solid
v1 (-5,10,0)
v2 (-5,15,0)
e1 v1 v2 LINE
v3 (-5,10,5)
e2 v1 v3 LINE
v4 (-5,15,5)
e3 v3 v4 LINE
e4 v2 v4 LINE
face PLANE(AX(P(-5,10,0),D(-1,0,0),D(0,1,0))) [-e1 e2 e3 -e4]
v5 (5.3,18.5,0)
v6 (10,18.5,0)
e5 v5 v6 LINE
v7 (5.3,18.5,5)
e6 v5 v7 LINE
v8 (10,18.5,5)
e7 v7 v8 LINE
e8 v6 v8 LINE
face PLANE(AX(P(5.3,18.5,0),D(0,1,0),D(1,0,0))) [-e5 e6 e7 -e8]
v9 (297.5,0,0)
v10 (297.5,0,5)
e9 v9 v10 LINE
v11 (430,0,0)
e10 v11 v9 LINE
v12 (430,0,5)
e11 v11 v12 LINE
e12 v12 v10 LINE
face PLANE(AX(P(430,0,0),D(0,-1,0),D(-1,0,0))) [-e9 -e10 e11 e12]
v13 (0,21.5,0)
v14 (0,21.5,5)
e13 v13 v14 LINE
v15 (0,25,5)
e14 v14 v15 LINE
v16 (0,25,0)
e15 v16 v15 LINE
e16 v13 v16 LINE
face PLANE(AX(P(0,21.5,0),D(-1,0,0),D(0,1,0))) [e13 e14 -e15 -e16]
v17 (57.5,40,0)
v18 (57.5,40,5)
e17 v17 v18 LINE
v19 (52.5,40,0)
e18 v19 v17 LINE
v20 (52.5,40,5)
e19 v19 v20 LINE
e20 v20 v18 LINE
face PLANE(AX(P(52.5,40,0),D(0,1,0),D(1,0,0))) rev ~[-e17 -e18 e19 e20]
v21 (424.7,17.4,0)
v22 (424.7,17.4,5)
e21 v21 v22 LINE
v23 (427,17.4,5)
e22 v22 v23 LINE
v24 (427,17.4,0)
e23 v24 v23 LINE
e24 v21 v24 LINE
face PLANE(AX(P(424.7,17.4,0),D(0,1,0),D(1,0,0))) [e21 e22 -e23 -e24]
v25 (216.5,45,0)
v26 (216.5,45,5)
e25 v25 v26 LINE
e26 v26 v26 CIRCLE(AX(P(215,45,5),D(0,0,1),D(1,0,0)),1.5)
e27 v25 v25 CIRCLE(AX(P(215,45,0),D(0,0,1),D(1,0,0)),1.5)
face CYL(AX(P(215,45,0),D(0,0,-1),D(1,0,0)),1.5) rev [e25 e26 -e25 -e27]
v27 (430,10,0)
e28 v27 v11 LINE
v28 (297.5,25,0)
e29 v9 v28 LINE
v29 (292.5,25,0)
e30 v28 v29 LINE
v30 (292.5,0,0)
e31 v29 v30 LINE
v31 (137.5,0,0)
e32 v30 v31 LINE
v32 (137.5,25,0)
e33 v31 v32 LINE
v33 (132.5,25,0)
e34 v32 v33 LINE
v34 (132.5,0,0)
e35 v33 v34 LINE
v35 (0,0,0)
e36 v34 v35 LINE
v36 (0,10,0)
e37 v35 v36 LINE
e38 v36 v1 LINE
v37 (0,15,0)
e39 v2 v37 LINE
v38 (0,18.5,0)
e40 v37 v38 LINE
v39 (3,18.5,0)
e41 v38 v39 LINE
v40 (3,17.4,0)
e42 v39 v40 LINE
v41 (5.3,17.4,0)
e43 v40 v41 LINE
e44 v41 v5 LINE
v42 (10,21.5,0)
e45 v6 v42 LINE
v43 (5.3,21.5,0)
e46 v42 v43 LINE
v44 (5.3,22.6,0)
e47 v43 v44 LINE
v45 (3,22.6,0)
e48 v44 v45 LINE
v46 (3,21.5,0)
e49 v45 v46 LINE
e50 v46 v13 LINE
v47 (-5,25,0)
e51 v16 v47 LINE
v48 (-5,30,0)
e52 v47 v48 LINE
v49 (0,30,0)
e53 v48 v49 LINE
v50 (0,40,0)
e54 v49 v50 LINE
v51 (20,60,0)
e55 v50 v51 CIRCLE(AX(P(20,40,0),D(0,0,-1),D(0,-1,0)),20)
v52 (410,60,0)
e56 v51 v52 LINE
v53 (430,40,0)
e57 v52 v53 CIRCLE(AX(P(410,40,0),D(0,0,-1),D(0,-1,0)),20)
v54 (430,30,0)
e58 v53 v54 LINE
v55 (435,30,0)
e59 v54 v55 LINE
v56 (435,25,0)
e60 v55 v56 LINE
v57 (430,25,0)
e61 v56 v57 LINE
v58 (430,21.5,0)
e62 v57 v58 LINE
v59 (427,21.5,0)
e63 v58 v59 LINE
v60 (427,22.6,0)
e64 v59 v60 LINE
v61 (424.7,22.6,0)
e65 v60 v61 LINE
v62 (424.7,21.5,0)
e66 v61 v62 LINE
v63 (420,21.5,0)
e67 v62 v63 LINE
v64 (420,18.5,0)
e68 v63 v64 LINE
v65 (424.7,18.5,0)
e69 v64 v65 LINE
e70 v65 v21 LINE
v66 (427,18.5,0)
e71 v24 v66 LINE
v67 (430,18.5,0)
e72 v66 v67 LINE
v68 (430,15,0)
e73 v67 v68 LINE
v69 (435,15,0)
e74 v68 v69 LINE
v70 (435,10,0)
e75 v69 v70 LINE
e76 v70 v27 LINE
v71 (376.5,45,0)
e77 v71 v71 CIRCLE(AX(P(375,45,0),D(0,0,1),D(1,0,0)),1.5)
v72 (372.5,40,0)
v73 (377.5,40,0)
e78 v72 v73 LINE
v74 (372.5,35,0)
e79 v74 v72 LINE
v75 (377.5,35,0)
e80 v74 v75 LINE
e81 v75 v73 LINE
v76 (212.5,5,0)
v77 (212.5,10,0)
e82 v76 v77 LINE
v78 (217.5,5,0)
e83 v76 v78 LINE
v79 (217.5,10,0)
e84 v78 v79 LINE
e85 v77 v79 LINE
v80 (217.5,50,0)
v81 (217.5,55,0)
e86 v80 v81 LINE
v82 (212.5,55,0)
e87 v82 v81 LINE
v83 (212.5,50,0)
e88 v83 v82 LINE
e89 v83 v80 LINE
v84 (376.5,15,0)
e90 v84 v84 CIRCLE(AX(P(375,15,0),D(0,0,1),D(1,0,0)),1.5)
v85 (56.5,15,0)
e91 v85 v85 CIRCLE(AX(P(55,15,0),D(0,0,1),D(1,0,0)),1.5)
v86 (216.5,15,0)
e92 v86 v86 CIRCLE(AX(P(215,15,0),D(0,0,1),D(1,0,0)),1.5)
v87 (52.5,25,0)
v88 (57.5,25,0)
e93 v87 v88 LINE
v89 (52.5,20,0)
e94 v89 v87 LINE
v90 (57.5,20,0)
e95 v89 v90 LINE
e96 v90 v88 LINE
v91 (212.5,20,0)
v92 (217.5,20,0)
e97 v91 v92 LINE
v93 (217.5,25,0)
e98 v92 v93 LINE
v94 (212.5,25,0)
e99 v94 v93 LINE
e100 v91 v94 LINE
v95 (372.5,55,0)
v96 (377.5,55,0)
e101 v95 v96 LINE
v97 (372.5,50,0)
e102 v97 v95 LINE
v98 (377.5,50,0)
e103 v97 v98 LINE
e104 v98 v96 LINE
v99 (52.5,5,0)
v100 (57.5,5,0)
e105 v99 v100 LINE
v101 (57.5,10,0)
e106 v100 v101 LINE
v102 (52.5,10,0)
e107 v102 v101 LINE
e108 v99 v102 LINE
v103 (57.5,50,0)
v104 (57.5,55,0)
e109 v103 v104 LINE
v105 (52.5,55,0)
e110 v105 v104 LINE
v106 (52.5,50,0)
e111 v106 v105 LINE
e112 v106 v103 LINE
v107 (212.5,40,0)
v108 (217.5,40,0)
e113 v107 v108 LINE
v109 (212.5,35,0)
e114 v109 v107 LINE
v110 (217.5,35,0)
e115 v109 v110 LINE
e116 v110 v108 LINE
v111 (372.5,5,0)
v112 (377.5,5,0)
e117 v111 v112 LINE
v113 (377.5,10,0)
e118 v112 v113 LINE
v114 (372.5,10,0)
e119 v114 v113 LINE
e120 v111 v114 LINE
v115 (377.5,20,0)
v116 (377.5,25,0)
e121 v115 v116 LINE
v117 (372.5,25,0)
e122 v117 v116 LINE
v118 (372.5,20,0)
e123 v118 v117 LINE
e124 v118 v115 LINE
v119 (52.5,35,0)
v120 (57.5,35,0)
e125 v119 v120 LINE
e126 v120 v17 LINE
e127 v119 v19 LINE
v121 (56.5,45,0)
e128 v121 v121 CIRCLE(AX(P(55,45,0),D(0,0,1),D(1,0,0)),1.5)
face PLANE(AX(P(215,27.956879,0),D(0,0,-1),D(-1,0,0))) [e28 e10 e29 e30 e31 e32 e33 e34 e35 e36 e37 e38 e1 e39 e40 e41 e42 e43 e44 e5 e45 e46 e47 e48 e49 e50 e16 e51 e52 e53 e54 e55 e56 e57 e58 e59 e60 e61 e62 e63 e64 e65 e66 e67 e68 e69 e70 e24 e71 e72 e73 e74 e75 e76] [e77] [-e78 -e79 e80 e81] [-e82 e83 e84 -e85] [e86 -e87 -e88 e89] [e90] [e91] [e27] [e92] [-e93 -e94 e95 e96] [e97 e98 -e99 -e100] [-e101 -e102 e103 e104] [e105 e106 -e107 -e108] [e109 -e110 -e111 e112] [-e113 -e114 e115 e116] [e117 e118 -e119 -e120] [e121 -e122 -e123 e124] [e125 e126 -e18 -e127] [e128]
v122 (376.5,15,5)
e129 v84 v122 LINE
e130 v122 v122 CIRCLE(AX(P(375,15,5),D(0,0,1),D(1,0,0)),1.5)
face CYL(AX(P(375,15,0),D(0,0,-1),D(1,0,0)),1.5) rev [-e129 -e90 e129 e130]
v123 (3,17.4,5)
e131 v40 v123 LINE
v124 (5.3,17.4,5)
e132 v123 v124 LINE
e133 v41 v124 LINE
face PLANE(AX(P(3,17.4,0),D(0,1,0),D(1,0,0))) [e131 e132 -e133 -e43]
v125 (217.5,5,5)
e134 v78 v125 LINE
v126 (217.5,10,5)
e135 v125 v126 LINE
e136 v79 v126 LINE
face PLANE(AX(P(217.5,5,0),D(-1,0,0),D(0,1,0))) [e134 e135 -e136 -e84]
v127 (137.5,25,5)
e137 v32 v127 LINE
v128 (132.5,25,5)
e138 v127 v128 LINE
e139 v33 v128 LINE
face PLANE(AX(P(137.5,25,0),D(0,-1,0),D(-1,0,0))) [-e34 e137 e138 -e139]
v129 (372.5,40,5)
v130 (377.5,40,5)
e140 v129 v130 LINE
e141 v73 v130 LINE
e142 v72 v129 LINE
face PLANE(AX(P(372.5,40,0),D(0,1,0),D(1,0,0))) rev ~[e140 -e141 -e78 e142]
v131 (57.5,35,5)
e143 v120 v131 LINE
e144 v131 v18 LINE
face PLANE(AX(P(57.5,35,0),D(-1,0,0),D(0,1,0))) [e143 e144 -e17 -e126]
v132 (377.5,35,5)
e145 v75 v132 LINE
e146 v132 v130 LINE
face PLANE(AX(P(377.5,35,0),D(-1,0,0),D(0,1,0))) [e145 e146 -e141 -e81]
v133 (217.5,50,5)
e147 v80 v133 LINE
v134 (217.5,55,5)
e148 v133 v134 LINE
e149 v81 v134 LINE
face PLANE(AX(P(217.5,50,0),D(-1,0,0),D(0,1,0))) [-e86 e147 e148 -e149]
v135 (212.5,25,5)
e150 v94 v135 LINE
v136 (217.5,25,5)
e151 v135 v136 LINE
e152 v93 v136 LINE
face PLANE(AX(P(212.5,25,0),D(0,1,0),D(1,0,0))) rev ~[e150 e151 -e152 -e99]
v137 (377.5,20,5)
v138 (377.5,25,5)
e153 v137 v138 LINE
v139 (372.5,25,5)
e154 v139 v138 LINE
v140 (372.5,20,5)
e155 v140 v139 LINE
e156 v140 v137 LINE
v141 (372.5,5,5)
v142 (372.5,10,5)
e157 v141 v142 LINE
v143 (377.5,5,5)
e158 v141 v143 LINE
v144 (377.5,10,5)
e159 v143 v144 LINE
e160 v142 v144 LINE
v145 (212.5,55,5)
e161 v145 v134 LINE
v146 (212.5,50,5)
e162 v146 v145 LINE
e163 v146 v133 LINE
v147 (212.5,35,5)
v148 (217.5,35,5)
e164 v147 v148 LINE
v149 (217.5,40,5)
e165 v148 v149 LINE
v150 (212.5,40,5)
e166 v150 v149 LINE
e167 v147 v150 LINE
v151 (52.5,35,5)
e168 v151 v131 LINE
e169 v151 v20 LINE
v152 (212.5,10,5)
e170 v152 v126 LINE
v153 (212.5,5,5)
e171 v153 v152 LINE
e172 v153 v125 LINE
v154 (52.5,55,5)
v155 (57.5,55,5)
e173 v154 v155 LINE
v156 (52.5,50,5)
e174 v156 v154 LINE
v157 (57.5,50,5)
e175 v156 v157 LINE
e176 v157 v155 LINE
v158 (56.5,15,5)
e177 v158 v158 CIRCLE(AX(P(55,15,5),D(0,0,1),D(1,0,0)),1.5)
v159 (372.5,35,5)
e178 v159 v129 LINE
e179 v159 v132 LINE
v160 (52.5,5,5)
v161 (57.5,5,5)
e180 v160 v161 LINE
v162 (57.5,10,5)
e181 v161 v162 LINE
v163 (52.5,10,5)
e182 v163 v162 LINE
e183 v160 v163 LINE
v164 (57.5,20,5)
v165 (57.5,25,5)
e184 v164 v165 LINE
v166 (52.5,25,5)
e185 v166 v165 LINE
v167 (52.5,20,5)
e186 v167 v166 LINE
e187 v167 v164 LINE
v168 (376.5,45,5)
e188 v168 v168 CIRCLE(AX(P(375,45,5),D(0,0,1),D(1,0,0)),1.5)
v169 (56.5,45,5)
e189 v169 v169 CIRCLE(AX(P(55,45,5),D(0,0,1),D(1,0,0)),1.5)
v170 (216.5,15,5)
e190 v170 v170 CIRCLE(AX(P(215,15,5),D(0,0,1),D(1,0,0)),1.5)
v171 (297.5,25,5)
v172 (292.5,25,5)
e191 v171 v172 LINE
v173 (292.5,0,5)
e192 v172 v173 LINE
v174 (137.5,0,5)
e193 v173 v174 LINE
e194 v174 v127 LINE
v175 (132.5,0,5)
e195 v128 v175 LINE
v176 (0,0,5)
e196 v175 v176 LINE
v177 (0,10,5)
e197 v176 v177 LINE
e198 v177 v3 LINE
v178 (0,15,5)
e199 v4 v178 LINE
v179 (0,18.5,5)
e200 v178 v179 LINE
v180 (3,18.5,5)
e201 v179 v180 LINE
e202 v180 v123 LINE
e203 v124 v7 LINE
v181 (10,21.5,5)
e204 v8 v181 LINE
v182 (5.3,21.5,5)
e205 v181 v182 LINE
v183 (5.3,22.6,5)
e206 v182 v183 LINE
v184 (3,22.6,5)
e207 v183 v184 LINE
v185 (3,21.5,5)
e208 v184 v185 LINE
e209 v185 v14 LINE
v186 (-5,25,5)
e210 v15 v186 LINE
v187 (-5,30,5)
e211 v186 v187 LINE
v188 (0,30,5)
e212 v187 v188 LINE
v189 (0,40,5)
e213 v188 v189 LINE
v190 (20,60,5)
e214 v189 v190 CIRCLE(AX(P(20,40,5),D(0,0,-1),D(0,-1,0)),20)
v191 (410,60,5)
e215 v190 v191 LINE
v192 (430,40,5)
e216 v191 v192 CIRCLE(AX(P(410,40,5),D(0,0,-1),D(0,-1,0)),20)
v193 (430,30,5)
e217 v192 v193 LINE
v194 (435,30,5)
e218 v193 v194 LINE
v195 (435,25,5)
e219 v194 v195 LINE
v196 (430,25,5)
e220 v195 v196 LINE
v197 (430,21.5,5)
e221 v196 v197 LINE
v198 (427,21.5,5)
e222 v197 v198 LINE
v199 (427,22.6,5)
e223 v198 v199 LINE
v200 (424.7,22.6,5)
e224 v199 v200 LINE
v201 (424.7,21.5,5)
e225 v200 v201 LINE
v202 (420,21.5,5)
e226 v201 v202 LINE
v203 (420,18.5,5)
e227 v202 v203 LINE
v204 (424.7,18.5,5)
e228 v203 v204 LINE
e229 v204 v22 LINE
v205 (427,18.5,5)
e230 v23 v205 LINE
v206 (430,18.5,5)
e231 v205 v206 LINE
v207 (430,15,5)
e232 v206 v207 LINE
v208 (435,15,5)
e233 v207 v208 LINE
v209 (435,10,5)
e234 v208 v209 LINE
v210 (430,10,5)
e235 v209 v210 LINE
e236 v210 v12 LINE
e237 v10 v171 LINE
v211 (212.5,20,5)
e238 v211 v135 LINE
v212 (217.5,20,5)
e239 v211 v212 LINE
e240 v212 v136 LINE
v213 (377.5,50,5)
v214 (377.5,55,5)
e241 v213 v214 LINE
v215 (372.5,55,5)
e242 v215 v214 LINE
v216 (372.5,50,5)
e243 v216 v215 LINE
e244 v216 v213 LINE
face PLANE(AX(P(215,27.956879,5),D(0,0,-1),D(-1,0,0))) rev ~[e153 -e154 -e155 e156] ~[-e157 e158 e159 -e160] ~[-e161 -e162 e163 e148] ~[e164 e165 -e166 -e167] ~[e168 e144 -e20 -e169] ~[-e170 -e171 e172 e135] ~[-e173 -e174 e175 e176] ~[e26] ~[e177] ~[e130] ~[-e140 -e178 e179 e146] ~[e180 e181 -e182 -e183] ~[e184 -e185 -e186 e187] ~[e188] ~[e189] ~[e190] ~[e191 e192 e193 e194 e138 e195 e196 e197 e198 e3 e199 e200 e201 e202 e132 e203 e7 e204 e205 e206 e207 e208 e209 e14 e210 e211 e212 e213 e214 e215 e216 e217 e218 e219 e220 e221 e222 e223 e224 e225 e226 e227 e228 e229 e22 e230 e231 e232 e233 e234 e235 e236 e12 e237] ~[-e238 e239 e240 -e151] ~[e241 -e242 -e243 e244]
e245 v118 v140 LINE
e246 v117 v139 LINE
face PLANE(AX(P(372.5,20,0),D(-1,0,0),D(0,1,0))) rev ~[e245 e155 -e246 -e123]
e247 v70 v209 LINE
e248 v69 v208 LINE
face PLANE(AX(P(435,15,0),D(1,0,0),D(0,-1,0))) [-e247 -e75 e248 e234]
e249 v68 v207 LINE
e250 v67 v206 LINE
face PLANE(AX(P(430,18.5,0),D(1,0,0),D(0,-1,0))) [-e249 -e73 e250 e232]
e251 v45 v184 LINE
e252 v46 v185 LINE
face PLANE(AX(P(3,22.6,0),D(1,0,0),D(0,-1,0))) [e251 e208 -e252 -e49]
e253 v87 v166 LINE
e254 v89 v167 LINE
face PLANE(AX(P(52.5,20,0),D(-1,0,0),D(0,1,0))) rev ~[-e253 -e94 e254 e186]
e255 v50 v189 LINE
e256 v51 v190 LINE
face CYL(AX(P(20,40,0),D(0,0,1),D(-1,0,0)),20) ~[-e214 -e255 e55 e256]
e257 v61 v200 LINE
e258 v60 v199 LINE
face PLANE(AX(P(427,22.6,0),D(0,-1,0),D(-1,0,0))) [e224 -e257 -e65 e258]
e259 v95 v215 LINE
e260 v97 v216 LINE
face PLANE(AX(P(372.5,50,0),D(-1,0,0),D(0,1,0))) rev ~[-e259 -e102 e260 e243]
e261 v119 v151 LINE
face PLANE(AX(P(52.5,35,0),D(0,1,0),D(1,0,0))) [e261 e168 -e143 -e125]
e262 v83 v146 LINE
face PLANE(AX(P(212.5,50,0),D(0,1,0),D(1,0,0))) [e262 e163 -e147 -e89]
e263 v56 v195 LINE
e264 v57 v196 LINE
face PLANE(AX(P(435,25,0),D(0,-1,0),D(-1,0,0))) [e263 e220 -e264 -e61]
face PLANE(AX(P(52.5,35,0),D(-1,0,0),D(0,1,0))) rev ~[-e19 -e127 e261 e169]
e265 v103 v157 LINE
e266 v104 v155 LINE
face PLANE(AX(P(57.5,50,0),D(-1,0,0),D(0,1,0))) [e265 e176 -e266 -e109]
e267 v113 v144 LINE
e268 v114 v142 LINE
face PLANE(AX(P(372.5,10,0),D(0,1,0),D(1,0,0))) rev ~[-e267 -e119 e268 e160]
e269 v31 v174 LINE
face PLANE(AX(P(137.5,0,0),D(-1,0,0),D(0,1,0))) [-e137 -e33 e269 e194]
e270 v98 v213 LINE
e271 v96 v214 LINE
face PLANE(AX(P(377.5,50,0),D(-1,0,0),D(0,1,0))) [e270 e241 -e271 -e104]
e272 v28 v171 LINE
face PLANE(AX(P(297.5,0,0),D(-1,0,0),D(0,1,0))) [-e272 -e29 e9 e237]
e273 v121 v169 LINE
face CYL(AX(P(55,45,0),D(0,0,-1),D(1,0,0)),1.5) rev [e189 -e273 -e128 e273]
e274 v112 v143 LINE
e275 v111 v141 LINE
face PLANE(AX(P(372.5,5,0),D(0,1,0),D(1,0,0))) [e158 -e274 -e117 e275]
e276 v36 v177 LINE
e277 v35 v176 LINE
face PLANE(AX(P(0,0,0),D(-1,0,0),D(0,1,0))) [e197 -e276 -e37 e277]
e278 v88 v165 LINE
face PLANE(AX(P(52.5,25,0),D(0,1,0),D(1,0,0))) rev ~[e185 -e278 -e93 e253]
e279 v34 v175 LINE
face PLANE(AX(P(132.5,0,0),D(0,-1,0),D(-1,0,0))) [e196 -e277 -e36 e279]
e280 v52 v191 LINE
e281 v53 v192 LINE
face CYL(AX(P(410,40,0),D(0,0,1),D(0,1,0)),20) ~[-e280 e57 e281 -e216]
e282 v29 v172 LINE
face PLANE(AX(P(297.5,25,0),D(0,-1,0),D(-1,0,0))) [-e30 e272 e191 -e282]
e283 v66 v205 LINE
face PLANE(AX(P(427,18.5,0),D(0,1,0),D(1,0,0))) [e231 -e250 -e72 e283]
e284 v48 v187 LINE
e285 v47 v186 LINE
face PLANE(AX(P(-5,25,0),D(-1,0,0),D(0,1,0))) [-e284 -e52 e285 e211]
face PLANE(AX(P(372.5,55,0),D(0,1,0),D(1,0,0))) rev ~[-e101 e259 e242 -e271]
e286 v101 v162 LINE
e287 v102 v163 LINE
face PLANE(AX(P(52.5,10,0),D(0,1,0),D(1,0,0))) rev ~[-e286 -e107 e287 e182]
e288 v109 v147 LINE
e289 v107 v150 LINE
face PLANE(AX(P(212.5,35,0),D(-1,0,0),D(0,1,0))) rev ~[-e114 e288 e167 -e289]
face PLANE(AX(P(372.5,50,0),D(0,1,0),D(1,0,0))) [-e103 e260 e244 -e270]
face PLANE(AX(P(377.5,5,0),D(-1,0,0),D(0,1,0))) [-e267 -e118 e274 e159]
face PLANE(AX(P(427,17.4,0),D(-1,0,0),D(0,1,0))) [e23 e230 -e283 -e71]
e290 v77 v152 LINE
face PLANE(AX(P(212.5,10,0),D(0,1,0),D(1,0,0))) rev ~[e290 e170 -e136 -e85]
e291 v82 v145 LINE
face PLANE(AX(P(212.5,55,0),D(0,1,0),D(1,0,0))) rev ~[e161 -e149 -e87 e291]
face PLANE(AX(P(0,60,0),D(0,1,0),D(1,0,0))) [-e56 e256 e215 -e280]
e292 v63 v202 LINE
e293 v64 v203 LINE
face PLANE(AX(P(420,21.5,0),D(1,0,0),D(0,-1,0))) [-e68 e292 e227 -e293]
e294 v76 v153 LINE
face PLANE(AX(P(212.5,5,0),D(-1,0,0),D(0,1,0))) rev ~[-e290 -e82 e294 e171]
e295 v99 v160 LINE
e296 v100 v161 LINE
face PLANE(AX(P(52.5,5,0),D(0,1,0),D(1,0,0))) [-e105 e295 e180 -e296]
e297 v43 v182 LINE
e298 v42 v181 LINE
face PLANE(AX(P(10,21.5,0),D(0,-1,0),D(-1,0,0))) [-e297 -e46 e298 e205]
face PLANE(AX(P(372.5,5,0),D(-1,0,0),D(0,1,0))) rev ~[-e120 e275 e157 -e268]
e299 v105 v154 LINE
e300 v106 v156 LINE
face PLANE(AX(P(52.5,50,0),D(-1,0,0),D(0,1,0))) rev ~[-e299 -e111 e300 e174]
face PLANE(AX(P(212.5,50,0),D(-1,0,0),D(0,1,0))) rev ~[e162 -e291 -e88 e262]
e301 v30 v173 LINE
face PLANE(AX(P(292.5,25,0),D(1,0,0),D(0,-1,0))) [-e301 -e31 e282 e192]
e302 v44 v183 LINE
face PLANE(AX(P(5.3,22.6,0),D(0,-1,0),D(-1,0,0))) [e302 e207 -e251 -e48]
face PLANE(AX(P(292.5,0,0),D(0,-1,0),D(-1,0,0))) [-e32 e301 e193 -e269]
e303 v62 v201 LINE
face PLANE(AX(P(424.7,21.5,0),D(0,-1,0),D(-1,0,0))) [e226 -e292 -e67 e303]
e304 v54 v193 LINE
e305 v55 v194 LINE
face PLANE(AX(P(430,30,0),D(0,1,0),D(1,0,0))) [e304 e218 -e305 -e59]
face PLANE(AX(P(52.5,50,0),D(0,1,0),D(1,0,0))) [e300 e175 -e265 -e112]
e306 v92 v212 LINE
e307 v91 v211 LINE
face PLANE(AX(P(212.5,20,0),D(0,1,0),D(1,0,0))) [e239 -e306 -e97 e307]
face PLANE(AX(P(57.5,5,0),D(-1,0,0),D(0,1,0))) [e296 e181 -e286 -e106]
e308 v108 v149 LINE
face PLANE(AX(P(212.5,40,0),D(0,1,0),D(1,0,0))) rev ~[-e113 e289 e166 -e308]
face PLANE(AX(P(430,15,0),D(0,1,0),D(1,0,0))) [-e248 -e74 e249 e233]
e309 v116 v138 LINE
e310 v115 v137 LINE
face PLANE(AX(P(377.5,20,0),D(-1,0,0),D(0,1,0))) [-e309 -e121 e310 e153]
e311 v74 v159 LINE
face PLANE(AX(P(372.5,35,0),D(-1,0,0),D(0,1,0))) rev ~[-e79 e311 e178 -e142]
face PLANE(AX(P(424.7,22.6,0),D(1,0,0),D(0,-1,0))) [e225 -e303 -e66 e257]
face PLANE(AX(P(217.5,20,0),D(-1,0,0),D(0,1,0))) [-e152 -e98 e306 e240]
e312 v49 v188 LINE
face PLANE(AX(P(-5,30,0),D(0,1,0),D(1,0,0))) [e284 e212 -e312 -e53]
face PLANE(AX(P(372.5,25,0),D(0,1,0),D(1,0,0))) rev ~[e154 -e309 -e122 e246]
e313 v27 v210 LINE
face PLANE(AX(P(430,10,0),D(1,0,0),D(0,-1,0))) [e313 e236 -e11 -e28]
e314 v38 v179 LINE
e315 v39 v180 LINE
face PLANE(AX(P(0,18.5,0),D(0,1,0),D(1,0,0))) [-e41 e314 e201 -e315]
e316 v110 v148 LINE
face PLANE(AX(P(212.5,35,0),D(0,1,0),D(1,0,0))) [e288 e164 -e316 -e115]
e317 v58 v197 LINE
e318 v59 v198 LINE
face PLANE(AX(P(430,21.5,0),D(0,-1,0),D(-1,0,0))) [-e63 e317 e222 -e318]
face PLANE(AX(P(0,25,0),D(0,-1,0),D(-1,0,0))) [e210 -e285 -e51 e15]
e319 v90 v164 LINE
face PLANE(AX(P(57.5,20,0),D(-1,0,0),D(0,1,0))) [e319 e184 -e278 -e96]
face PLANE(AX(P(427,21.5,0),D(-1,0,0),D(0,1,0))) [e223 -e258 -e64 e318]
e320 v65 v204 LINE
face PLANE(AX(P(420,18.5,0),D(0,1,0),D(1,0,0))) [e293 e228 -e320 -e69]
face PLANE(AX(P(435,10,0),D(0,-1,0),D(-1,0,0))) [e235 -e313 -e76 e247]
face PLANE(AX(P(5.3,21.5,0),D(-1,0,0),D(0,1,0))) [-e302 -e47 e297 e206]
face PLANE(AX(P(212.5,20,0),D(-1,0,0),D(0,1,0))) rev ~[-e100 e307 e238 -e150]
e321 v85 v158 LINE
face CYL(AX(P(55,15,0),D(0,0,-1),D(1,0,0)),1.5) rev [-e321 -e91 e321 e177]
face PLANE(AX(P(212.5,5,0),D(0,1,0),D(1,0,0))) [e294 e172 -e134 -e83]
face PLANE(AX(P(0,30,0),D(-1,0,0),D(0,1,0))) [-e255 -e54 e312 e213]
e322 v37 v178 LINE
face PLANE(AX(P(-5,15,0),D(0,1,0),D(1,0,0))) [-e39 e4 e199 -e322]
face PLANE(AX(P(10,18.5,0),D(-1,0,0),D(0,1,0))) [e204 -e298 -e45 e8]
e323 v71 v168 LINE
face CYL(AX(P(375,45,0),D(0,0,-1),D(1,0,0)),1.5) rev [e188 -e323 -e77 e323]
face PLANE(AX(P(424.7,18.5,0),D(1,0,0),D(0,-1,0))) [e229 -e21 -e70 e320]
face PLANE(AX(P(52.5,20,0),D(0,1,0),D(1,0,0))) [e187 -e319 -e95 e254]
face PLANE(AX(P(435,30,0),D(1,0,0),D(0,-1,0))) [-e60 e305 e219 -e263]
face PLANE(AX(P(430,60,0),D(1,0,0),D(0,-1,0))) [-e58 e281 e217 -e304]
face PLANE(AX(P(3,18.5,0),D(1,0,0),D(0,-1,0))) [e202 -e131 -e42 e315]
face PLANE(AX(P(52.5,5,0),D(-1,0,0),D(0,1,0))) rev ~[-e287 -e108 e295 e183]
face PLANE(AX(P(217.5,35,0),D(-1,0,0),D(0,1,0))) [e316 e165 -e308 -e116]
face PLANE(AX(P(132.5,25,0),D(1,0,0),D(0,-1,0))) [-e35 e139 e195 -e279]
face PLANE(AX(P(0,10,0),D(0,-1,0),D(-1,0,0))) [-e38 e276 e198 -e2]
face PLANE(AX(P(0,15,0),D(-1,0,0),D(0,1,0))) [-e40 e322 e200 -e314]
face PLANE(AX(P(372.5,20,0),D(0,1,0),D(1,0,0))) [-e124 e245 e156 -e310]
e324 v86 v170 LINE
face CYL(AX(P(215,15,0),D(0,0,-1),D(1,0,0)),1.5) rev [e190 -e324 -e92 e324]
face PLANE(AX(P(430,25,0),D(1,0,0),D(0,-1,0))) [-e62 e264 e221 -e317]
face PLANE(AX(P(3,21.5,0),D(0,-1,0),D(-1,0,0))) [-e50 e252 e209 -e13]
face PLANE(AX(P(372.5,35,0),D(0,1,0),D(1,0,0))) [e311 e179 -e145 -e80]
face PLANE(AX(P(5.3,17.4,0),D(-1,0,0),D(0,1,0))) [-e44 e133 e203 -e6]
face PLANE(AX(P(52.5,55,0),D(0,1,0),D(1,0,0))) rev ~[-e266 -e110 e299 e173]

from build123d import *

# Parameters (mm, degrees)
ESQUISSE1_R        = 1.5
ESQUISSE1_W        = 5
ESQUISSE1_H        = 5
BOSS_EXTRU_1_DEPTH = 5
CONG_1_R           = 20


with BuildPart() as part:
    # Esquisse1 → Boss.-Extru.1 (new body)
    with BuildSketch(Plane.XY):
        Polygon((0, 21.5), (0, 25), (-5, 25), (-5, 30), (0, 30), (0, 60), (430, 60), (430, 30), (435, 30), (435, 25), (430, 25), (430, 21.5), (427, 21.5), (427, 22.6), (424.7, 22.6), (424.7, 21.5), (420, 21.5), (420, 18.5), (424.7, 18.5), (424.7, 17.4), (427, 17.4), (427, 18.5), (430, 18.5), (430, 15), (435, 15), (435, 10), (430, 10), (430, 0), (297.5, 0), (297.5, 25), (292.5, 25), (292.5, 0), (137.5, 0), (137.5, 25), (132.5, 25), (132.5, 0), (0, 0), (0, 10), (-5, 10), (-5, 15), (0, 15), (0, 18.5), (3, 18.5), (3, 17.4), (5.3, 17.4), (5.3, 18.5), (10, 18.5), (10, 21.5), (5.3, 21.5), (5.3, 22.6), (3, 22.6), (3, 21.5), align=None)
        with Locations((375, 15)):
            Circle(ESQUISSE1_R, mode=Mode.SUBTRACT)
        with Locations((375, 45)):
            Circle(ESQUISSE1_R, mode=Mode.SUBTRACT)
        with Locations((215, 15)):
            Circle(ESQUISSE1_R, mode=Mode.SUBTRACT)
        with Locations((215, 45)):
            Circle(ESQUISSE1_R, mode=Mode.SUBTRACT)
        with Locations((55, 15)):
            Circle(ESQUISSE1_R, mode=Mode.SUBTRACT)
        with Locations((55, 45)):
            Circle(ESQUISSE1_R, mode=Mode.SUBTRACT)
        with Locations((375, 7.5)):
            Rectangle(ESQUISSE1_W, ESQUISSE1_H, mode=Mode.SUBTRACT)
        with Locations((375, 22.5)):
            Rectangle(ESQUISSE1_W, ESQUISSE1_H, mode=Mode.SUBTRACT)
        with Locations((375, 37.5)):
            Rectangle(ESQUISSE1_W, ESQUISSE1_H, mode=Mode.SUBTRACT)
        with Locations((375, 52.5)):
            Rectangle(ESQUISSE1_W, ESQUISSE1_H, mode=Mode.SUBTRACT)
        with Locations((215, 7.5)):
            Rectangle(ESQUISSE1_W, ESQUISSE1_H, mode=Mode.SUBTRACT)
        with Locations((215, 22.5)):
            Rectangle(ESQUISSE1_W, ESQUISSE1_H, mode=Mode.SUBTRACT)
        with Locations((215, 37.5)):
            Rectangle(ESQUISSE1_W, ESQUISSE1_H, mode=Mode.SUBTRACT)
        with Locations((215, 52.5)):
            Rectangle(ESQUISSE1_W, ESQUISSE1_H, mode=Mode.SUBTRACT)
        with Locations((55, 7.5)):
            Rectangle(ESQUISSE1_W, ESQUISSE1_H, mode=Mode.SUBTRACT)
        with Locations((55, 22.5)):
            Rectangle(ESQUISSE1_W, ESQUISSE1_H, mode=Mode.SUBTRACT)
        with Locations((55, 37.5)):
            Rectangle(ESQUISSE1_W, ESQUISSE1_H, mode=Mode.SUBTRACT)
        with Locations((55, 52.5)):
            Rectangle(ESQUISSE1_W, ESQUISSE1_H, mode=Mode.SUBTRACT)
    extrude(amount=BOSS_EXTRU_1_DEPTH)

    # Congé1
    cong_1_edges = [part.edges().sort_by_distance(p)[0] for p in [
        (0, 60, 2.5),
        (430, 60, 2.5),
    ]]
    fillet(cong_1_edges, radius=CONG_1_R)


solid = part.part
